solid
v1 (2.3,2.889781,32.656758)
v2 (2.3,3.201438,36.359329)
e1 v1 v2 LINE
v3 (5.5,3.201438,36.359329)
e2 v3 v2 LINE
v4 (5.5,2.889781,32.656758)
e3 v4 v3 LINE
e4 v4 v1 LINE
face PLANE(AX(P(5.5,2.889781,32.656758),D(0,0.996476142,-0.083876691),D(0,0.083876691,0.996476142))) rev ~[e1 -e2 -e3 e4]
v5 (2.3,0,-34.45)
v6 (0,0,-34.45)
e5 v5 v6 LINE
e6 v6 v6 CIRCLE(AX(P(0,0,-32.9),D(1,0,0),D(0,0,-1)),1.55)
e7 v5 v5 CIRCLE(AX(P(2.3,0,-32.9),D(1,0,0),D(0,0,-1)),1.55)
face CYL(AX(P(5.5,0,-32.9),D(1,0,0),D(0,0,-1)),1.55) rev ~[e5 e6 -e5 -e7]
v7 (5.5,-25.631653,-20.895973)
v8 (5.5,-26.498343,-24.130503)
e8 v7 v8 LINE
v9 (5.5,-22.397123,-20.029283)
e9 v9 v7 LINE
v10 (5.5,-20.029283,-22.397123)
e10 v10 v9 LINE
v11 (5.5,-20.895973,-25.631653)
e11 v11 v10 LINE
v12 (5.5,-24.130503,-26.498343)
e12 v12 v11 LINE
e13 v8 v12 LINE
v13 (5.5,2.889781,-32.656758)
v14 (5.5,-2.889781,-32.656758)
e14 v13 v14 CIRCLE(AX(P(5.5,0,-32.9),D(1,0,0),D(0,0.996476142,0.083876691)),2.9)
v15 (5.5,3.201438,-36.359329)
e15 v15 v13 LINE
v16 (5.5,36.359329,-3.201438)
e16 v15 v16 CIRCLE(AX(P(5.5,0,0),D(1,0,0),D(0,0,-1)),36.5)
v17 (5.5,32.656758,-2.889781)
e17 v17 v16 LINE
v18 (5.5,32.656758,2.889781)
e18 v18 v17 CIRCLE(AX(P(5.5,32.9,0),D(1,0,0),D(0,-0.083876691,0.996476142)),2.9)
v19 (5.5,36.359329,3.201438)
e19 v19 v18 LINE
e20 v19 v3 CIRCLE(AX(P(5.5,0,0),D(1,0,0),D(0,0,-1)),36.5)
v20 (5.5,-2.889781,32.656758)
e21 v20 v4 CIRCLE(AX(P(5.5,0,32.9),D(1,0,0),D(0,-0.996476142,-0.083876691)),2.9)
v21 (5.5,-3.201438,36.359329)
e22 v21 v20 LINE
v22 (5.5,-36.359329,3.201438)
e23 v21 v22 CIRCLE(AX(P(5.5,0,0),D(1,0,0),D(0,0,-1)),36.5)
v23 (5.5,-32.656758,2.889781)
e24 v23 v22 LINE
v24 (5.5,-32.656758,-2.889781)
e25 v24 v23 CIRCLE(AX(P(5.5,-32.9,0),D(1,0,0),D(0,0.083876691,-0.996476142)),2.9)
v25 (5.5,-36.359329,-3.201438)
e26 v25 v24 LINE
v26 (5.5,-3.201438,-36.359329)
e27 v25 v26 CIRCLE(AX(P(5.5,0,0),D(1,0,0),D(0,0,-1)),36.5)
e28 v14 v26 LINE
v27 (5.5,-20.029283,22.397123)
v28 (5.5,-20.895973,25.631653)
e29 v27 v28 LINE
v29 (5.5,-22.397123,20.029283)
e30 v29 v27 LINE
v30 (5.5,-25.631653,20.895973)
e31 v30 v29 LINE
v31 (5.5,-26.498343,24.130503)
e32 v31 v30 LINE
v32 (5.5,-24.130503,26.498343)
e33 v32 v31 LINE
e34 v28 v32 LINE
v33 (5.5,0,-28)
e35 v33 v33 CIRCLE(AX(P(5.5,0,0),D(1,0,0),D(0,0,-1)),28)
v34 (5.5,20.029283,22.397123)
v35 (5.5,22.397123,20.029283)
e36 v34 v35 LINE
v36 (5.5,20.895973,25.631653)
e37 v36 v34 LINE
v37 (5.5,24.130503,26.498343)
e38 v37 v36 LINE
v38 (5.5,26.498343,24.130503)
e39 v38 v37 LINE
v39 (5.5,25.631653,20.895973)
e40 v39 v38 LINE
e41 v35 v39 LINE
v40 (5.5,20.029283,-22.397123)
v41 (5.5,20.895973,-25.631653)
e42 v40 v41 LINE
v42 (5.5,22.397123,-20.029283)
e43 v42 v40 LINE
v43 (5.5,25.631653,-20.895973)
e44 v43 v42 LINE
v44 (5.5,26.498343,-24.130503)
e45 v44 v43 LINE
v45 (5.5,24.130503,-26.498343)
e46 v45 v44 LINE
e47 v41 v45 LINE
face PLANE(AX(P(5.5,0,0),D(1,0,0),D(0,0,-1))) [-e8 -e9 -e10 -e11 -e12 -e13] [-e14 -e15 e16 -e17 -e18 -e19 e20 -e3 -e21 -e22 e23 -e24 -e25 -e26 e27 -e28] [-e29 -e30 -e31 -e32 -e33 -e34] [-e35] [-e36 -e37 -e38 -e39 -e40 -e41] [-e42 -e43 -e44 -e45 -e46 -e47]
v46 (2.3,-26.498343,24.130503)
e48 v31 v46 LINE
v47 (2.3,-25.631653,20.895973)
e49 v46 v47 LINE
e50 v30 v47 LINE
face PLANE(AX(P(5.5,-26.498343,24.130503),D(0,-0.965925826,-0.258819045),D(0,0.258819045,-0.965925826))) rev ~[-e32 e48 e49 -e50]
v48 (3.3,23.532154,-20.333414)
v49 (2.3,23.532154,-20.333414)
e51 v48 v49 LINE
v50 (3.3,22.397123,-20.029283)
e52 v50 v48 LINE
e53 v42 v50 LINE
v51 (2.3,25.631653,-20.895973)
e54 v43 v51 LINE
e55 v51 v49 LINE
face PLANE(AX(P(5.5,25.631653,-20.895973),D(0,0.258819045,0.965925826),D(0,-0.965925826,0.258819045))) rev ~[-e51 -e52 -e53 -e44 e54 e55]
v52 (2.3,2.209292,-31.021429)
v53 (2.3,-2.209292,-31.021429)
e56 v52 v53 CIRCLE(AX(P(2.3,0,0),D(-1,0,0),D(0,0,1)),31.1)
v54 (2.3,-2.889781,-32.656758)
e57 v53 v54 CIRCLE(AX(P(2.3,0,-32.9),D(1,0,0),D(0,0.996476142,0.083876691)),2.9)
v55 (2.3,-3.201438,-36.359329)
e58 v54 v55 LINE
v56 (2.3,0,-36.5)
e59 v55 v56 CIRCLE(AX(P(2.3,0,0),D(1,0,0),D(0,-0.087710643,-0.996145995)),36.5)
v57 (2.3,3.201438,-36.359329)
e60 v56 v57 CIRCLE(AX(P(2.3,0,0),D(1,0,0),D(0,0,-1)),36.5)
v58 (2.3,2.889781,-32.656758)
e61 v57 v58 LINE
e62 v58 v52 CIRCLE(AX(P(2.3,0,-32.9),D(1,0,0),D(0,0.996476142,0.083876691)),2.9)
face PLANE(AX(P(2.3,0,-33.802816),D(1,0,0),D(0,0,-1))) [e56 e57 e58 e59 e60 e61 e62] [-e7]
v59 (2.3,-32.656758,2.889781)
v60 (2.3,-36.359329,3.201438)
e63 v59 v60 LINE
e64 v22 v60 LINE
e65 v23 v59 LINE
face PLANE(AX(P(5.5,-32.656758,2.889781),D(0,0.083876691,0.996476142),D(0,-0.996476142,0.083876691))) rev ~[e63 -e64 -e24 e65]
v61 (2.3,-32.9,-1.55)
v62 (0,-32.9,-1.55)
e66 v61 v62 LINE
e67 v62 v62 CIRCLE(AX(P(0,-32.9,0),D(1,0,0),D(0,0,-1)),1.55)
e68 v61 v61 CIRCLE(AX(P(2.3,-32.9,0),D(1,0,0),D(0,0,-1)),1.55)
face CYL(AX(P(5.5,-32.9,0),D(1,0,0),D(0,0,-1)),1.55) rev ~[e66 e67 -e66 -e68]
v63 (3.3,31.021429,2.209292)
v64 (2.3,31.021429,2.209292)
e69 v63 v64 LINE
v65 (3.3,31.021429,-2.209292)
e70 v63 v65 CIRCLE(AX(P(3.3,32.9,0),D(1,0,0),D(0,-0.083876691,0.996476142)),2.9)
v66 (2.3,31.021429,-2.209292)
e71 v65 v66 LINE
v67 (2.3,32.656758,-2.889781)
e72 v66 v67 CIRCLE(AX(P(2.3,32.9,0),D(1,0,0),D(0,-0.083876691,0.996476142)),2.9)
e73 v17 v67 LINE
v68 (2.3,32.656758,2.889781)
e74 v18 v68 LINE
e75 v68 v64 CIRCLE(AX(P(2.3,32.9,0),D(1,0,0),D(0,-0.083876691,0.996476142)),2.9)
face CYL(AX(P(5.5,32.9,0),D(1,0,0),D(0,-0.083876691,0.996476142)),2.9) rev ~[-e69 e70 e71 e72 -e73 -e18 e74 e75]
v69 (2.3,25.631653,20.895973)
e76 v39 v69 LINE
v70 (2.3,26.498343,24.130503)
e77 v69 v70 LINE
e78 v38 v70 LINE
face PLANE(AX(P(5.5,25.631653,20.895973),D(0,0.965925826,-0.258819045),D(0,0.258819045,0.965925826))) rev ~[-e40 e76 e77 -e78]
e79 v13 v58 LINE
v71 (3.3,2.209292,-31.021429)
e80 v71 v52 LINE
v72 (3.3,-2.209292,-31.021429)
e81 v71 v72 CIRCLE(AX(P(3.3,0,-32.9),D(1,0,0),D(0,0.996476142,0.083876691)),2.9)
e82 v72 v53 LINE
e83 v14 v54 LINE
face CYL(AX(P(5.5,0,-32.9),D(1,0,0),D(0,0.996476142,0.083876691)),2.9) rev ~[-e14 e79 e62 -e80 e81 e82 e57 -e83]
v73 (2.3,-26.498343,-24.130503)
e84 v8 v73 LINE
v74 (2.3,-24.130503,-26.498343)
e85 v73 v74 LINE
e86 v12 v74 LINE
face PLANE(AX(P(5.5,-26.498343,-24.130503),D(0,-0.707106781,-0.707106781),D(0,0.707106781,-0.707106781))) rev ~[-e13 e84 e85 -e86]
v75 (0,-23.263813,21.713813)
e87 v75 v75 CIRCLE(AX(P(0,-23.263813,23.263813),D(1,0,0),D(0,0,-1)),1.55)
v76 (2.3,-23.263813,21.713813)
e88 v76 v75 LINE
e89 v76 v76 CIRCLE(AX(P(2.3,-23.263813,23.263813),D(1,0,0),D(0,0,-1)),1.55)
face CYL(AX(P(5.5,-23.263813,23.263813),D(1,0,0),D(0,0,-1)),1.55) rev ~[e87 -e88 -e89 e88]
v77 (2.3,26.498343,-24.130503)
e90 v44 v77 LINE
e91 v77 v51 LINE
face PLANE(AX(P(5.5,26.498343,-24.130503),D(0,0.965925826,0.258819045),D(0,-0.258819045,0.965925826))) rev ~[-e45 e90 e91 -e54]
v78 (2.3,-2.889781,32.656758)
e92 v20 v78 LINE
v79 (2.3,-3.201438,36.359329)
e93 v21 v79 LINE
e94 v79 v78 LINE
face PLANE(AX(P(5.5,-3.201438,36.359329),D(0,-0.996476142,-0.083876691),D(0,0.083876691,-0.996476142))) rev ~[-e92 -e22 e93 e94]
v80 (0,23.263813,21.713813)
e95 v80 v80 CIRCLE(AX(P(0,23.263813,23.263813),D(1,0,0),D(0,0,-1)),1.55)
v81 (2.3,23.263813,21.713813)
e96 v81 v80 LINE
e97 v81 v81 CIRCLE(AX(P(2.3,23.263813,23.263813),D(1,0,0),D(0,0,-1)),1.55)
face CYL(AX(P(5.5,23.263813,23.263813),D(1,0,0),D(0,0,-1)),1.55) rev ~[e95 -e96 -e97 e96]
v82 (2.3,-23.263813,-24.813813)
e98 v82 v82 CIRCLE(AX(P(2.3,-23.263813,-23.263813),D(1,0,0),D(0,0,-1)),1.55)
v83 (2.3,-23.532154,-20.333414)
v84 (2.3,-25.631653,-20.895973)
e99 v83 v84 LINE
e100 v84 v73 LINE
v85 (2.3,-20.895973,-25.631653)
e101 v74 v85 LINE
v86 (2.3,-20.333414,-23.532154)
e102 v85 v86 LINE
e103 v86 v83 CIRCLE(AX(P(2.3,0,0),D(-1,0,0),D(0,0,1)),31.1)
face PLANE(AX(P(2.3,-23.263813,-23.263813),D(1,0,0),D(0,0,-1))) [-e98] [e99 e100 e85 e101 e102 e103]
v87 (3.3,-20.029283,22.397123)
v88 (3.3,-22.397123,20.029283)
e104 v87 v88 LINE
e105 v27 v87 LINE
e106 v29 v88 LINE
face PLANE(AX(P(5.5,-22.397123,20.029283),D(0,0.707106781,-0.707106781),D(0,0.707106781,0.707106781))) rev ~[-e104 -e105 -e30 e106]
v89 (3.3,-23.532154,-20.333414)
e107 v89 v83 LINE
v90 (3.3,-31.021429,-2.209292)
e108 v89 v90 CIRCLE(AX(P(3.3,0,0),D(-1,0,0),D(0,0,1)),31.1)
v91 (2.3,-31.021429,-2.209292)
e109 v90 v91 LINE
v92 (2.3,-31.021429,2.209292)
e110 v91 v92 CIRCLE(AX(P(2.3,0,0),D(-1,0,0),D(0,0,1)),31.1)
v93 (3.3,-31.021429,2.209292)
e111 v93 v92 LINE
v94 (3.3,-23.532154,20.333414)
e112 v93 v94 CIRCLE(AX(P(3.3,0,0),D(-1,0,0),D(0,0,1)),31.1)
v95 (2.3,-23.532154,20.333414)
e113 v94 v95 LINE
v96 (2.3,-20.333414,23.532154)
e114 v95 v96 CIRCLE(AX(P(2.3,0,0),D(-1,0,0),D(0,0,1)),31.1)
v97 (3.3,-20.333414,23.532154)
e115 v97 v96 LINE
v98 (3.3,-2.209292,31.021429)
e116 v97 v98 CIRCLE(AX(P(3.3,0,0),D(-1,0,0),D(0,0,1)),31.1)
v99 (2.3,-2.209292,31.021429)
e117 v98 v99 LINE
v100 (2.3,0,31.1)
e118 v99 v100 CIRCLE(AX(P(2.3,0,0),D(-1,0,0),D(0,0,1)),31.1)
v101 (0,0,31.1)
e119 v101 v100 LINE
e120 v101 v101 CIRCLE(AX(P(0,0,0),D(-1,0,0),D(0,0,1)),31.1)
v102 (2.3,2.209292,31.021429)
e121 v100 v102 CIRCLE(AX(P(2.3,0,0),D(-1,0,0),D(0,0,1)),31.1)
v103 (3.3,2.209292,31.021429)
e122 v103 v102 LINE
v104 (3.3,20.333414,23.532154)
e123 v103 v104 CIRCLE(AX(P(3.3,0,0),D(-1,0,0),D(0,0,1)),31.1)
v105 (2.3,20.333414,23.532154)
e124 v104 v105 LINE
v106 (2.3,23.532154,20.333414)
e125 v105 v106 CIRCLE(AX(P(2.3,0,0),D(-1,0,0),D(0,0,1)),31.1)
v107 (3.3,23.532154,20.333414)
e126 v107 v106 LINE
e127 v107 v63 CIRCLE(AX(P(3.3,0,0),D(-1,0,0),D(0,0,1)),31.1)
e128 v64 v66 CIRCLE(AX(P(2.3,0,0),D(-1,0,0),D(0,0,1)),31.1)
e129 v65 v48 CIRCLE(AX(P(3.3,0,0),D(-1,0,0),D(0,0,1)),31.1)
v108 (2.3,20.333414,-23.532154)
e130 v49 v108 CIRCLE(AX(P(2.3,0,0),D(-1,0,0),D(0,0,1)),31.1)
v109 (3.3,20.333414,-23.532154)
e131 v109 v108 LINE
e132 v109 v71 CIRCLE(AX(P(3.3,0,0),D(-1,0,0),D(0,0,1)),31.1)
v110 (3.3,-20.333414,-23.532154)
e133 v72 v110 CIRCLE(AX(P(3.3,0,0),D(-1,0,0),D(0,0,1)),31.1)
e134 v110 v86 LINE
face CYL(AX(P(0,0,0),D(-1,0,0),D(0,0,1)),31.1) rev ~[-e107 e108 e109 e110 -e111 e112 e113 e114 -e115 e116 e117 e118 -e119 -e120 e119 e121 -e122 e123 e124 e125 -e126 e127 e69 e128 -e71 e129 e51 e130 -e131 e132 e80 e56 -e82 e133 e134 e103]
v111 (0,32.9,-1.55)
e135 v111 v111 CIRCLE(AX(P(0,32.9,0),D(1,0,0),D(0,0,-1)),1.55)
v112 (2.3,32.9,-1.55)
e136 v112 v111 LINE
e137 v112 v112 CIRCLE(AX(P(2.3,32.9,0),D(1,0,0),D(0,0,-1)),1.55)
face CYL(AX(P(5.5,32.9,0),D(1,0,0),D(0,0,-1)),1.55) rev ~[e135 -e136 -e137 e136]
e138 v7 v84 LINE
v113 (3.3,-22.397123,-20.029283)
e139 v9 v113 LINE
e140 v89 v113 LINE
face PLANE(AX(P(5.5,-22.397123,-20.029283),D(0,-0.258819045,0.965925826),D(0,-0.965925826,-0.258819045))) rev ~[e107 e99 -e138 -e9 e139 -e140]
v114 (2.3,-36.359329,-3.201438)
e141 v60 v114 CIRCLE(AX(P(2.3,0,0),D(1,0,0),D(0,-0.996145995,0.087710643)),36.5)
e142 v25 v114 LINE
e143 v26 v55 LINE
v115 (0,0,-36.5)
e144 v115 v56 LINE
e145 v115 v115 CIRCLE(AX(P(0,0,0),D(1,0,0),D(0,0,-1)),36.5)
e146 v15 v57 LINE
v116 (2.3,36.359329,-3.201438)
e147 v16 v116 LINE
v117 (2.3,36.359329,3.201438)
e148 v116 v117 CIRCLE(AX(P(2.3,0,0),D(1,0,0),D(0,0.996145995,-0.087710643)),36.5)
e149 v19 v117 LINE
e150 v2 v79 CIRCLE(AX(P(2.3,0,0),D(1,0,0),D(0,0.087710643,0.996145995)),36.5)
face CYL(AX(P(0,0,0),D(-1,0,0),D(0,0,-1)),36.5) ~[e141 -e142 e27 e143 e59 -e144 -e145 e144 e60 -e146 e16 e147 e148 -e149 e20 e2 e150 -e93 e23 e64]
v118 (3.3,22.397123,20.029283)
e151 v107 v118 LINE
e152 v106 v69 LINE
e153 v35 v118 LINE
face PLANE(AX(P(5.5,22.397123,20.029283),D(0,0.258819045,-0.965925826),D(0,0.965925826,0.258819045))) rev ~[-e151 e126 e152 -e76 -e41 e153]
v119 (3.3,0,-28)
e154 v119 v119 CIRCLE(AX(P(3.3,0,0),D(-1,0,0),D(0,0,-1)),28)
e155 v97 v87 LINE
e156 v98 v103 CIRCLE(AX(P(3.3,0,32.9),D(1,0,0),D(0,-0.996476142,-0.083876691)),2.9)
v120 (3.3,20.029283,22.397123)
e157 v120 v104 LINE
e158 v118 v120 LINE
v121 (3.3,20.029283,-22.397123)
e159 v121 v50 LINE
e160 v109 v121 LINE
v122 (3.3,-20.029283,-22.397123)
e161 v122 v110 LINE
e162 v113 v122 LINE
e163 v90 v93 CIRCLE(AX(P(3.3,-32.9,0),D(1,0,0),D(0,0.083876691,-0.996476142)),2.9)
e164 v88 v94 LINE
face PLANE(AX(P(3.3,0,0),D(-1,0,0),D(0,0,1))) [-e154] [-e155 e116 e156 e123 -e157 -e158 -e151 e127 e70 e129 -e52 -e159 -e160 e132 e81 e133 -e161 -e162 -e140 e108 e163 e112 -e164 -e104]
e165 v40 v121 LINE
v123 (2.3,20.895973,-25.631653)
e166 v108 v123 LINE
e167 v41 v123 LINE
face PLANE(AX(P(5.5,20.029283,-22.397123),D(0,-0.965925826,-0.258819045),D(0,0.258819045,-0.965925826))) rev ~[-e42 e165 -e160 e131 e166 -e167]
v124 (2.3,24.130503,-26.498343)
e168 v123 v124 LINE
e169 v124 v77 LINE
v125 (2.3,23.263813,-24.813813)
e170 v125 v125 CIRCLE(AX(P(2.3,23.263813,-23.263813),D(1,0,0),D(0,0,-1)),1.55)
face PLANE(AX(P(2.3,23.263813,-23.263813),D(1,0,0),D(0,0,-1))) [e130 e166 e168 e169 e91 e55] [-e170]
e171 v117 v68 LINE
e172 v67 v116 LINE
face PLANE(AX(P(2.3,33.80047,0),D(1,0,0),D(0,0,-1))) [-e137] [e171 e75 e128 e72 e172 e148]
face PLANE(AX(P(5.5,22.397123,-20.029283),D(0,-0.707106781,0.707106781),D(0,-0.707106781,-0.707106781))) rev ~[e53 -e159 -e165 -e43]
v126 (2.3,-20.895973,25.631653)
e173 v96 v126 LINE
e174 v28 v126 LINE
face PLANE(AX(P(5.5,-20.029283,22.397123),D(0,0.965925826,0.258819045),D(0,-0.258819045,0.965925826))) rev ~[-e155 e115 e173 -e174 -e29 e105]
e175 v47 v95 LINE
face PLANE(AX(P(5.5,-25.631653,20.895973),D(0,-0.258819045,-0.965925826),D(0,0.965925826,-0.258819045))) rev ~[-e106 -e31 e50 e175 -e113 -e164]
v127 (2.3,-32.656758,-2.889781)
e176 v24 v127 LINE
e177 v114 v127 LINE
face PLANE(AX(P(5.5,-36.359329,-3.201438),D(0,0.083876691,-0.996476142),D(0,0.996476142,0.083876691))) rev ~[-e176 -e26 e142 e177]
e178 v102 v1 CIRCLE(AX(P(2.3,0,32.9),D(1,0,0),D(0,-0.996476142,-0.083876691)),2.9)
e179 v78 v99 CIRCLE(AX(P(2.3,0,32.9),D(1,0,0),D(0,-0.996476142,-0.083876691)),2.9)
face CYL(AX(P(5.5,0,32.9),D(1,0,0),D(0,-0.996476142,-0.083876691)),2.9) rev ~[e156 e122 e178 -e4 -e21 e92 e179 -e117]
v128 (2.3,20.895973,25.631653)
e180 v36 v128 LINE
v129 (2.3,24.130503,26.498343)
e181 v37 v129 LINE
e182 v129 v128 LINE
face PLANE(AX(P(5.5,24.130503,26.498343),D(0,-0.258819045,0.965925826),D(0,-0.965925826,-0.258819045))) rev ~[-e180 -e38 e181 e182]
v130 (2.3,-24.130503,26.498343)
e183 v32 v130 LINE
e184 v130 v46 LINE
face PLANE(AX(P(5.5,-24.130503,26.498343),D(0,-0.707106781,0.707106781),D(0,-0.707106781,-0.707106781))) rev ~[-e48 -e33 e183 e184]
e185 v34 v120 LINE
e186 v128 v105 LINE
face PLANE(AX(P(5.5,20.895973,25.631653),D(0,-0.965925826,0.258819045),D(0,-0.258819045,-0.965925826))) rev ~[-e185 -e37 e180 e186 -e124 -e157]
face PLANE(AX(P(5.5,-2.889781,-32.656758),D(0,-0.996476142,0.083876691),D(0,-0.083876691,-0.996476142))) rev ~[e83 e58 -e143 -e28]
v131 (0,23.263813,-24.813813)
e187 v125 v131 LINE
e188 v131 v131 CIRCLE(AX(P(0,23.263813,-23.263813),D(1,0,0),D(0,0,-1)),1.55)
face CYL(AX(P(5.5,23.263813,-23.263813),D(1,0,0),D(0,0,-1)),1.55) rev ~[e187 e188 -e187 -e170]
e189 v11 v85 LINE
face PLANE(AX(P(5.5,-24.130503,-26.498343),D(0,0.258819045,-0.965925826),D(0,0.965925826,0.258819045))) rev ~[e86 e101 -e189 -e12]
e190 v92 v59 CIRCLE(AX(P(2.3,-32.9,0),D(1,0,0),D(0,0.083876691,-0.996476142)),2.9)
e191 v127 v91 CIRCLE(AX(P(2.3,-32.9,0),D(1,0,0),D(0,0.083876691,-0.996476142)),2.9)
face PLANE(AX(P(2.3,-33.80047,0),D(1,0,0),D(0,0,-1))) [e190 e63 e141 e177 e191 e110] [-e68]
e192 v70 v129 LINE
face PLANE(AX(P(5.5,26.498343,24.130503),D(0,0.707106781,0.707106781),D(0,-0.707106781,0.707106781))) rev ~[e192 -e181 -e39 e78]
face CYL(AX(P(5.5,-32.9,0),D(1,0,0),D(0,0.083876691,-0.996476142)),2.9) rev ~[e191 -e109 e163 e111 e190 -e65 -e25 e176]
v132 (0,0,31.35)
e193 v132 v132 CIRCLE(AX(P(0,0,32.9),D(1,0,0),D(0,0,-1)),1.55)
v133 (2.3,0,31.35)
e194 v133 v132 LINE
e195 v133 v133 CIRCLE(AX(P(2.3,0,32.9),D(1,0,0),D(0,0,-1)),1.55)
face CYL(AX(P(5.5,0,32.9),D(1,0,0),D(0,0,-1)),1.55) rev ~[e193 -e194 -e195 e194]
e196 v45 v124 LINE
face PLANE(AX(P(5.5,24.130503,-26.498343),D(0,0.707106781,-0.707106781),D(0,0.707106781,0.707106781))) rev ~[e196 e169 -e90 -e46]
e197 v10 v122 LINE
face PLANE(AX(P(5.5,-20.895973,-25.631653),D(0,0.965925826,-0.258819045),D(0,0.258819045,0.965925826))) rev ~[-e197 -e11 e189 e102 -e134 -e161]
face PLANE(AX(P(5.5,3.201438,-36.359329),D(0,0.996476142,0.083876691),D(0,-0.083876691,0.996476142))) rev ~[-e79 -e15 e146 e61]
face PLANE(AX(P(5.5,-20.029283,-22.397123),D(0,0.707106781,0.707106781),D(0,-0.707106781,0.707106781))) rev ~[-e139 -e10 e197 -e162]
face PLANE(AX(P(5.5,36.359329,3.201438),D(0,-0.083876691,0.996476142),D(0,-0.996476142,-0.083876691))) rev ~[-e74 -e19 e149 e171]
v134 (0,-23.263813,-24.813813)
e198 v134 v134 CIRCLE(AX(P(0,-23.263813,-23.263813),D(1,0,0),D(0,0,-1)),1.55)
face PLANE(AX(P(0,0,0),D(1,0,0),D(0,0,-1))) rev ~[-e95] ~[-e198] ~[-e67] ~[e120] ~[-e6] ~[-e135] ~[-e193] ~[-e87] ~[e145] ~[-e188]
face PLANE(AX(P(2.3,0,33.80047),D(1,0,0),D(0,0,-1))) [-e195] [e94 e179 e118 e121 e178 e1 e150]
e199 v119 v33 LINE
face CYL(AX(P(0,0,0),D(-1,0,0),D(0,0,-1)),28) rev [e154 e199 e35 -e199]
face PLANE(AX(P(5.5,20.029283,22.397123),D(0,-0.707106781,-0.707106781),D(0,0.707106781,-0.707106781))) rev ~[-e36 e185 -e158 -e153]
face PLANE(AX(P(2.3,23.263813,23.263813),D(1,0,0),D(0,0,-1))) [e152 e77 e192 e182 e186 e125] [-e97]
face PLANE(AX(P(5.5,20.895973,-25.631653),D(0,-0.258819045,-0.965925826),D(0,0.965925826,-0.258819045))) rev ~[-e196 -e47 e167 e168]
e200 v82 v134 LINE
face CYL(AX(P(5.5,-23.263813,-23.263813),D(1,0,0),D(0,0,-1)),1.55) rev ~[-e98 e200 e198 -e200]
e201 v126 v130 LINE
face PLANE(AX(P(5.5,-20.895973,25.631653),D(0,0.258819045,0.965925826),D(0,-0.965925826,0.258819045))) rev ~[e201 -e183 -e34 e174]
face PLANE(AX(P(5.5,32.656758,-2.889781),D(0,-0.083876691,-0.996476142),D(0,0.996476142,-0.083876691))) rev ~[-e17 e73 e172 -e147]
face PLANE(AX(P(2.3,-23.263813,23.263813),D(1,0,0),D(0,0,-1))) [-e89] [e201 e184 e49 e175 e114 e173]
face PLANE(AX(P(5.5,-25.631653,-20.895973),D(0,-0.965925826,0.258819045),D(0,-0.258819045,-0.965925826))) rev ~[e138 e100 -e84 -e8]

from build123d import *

# Parameters (mm, degrees)
SKETCH_1_R          = 36.5
SKETCH_1_R_2        = 28
EXTRUDE_1_DEPTH     = 5.5
SKETCH_2_R          = 31.1
CUT_EXTRUDE_1_DEPTH = 3.3
CUT_EXTRUDE_2_REACH = 53.911
SKETCH_3_R          = 1.55
SKETCH_4_R          = 1.55
CUT_EXTRUDE_3_DEPTH = 3.2


with BuildPart() as part:
    # 草图1 → 凸台-拉伸1 (new body)
    with BuildSketch(Plane(origin=(0, 0, 0), x_dir=(0, 0, -1), z_dir=(1, 0, 0))):
        Circle(SKETCH_1_R)
        Circle(SKETCH_1_R_2, mode=Mode.SUBTRACT)
    extrude(amount=EXTRUDE_1_DEPTH)

    # 草图2 → 切除-拉伸1 (cut)
    with BuildSketch(Plane.ZY):
        Circle(SKETCH_2_R)
    extrude(amount=-CUT_EXTRUDE_1_DEPTH, mode=Mode.SUBTRACT)

    # 草图3 → 切除-拉伸2 (cut, up to next)
    with BuildSketch(Plane(origin=(5.5, 0, 0), x_dir=(0, 0, -1), z_dir=(1, 0, 0)), mode=Mode.PRIVATE) as cut_extrude_2_sk1:
        with Locations((32.9, 0)):
            Circle(SKETCH_3_R)
    cut_extrude_2_tool1 = extrude(cut_extrude_2_sk1.sketch, amount=-CUT_EXTRUDE_2_REACH, mode=Mode.PRIVATE) & part.part
    # 草图3 → 切除-拉伸2 (cut, up to next)
    with BuildSketch(Plane(origin=(5.5, 0, 0), x_dir=(0, 0, -1), z_dir=(1, 0, 0)), mode=Mode.PRIVATE) as cut_extrude_2_sk2:
        with Locations((23.263813101, -23.263813101)):
            Circle(SKETCH_3_R)
    cut_extrude_2_tool2 = extrude(cut_extrude_2_sk2.sketch, amount=-CUT_EXTRUDE_2_REACH, mode=Mode.PRIVATE) & part.part
    # 草图3 → 切除-拉伸2 (cut, up to next)
    with BuildSketch(Plane(origin=(5.5, 0, 0), x_dir=(0, 0, -1), z_dir=(1, 0, 0)), mode=Mode.PRIVATE) as cut_extrude_2_sk3:
        with Locations((0, -32.9)):
            Circle(SKETCH_3_R)
    cut_extrude_2_tool3 = extrude(cut_extrude_2_sk3.sketch, amount=-CUT_EXTRUDE_2_REACH, mode=Mode.PRIVATE) & part.part
    # 草图3 → 切除-拉伸2 (cut, up to next)
    with BuildSketch(Plane(origin=(5.5, 0, 0), x_dir=(0, 0, -1), z_dir=(1, 0, 0)), mode=Mode.PRIVATE) as cut_extrude_2_sk4:
        with Locations((-23.263813101, -23.263813101)):
            Circle(SKETCH_3_R)
    cut_extrude_2_tool4 = extrude(cut_extrude_2_sk4.sketch, amount=-CUT_EXTRUDE_2_REACH, mode=Mode.PRIVATE) & part.part
    # 草图3 → 切除-拉伸2 (cut, up to next)
    with BuildSketch(Plane(origin=(5.5, 0, 0), x_dir=(0, 0, -1), z_dir=(1, 0, 0)), mode=Mode.PRIVATE) as cut_extrude_2_sk5:
        with Locations((-32.9, 0)):
            Circle(SKETCH_3_R)
    cut_extrude_2_tool5 = extrude(cut_extrude_2_sk5.sketch, amount=-CUT_EXTRUDE_2_REACH, mode=Mode.PRIVATE) & part.part
    # 草图3 → 切除-拉伸2 (cut, up to next)
    with BuildSketch(Plane(origin=(5.5, 0, 0), x_dir=(0, 0, -1), z_dir=(1, 0, 0)), mode=Mode.PRIVATE) as cut_extrude_2_sk6:
        with Locations((-23.263813101, 23.263813101)):
            Circle(SKETCH_3_R)
    cut_extrude_2_tool6 = extrude(cut_extrude_2_sk6.sketch, amount=-CUT_EXTRUDE_2_REACH, mode=Mode.PRIVATE) & part.part
    # 草图3 → 切除-拉伸2 (cut, up to next)
    with BuildSketch(Plane(origin=(5.5, 0, 0), x_dir=(0, 0, -1), z_dir=(1, 0, 0)), mode=Mode.PRIVATE) as cut_extrude_2_sk7:
        with Locations((0, 32.9)):
            Circle(SKETCH_3_R)
    cut_extrude_2_tool7 = extrude(cut_extrude_2_sk7.sketch, amount=-CUT_EXTRUDE_2_REACH, mode=Mode.PRIVATE) & part.part
    # 草图3 → 切除-拉伸2 (cut, up to next)
    with BuildSketch(Plane(origin=(5.5, 0, 0), x_dir=(0, 0, -1), z_dir=(1, 0, 0)), mode=Mode.PRIVATE) as cut_extrude_2_sk8:
        with Locations((23.263813101, 23.263813101)):
            Circle(SKETCH_3_R)
    cut_extrude_2_tool8 = extrude(cut_extrude_2_sk8.sketch, amount=-CUT_EXTRUDE_2_REACH, mode=Mode.PRIVATE) & part.part
    add(cut_extrude_2_tool1.solids().sort_by_distance((5.5, 0, -32.9))[0], mode=Mode.SUBTRACT)
    add(cut_extrude_2_tool2.solids().sort_by_distance((5.5, -23.263813, -23.263813))[0], mode=Mode.SUBTRACT)
    add(cut_extrude_2_tool3.solids().sort_by_distance((5.5, -32.9, 0))[0], mode=Mode.SUBTRACT)
    add(cut_extrude_2_tool4.solids().sort_by_distance((5.5, -23.263813, 23.263813))[0], mode=Mode.SUBTRACT)
    add(cut_extrude_2_tool5.solids().sort_by_distance((5.5, 0, 32.9))[0], mode=Mode.SUBTRACT)
    add(cut_extrude_2_tool6.solids().sort_by_distance((5.5, 23.263813, 23.263813))[0], mode=Mode.SUBTRACT)
    add(cut_extrude_2_tool7.solids().sort_by_distance((5.5, 32.9, 0))[0], mode=Mode.SUBTRACT)
    add(cut_extrude_2_tool8.solids().sort_by_distance((5.5, 23.263813, -23.263813))[0], mode=Mode.SUBTRACT)

    # 草图4 → 切除-拉伸3 (cut)
    # profile 1 of 8: a face of its own
    with BuildSketch(Plane(origin=(5.5, 0, 0), x_dir=(0, 0, -1), z_dir=(1, 0, 0))):
        with BuildLine():
            Line((-32.656757596, 2.889780811), (-36.359328813, 3.20143847))
            ThreePointArc((-36.359328813, 3.20143847), (-36.5, 0), (-36.359328813, -3.20143847))
            Line((-36.359328813, -3.20143847), (-32.656757596, -2.889780811))
            ThreePointArc((-32.656757596, -2.889780811), (-30, 0), (-32.656757596, 2.889780811))
        make_face()
        with Locations((-32.9, 0)):
            Circle(SKETCH_4_R, mode=Mode.SUBTRACT)
    # profile 2 of 8: a face of its own
    with BuildSketch(Plane(origin=(5.5, 0, 0), x_dir=(0, 0, -1), z_dir=(1, 0, 0))):
        with BuildLine():
            Line((2.889780811, 32.656757596), (3.20143847, 36.359328813))
            ThreePointArc((3.20143847, 36.359328813), (0, 36.5), (-3.20143847, 36.359328813))
            Line((-3.20143847, 36.359328813), (-2.889780811, 32.656757596))
            ThreePointArc((-2.889780811, 32.656757596), (0, 30), (2.889780811, 32.656757596))
        make_face()
        with Locations((0, 32.9)):
            Circle(SKETCH_4_R, mode=Mode.SUBTRACT)
    # profile 3 of 8: a face of its own
    with BuildSketch(Plane(origin=(5.5, 0, 0), x_dir=(0, 0, -1), z_dir=(1, 0, 0))):
        Polygon((26.498342809, 24.130502724), (24.130502724, 26.498342809), (20.895973016, 25.631653186), (20.029283393, 22.397123478), (22.397123478, 20.029283393), (25.631653186, 20.895973016), align=None)
        with Locations((23.263813101, 23.263813101)):
            Circle(SKETCH_4_R, mode=Mode.SUBTRACT)
    # profile 4 of 8: a face of its own
    with BuildSketch(Plane(origin=(5.5, 0, 0), x_dir=(0, 0, -1), z_dir=(1, 0, 0))):
        with BuildLine():
            Line((36.359328813, 3.20143847), (32.656757596, 2.889780811))
            ThreePointArc((32.656757596, 2.889780811), (30, 0), (32.656757596, -2.889780811))
            Line((32.656757596, -2.889780811), (36.359328813, -3.20143847))
            ThreePointArc((36.359328813, -3.20143847), (36.464815245, -1.602263763), (36.5, 0))
            ThreePointArc((36.5, 0), (36.464815245, 1.602263763), (36.359328813, 3.20143847))
        make_face()
        with Locations((32.9, 0)):
            Circle(SKETCH_4_R, mode=Mode.SUBTRACT)
    # profile 5 of 8: a face of its own
    with BuildSketch(Plane(origin=(5.5, 0, 0), x_dir=(0, 0, -1), z_dir=(1, 0, 0))):
        Polygon((24.130502724, -26.498342809), (26.498342809, -24.130502724), (25.631653186, -20.895973016), (22.397123478, -20.029283393), (20.029283393, -22.397123478), (20.895973016, -25.631653186), align=None)
        with Locations((23.263813101, -23.263813101)):
            Circle(SKETCH_4_R, mode=Mode.SUBTRACT)
    # profile 6 of 8: a face of its own
    with BuildSketch(Plane(origin=(5.5, 0, 0), x_dir=(0, 0, -1), z_dir=(1, 0, 0))):
        with BuildLine():
            ThreePointArc((-3.20143847, -36.359328813), (0, -36.5), (3.20143847, -36.359328813))
            Line((3.20143847, -36.359328813), (2.889780811, -32.656757596))
            ThreePointArc((2.889780811, -32.656757596), (0, -30), (-2.889780811, -32.656757596))
            Line((-2.889780811, -32.656757596), (-3.20143847, -36.359328813))
        make_face()
        with Locations((0, -32.9)):
            Circle(SKETCH_4_R, mode=Mode.SUBTRACT)
    # profile 7 of 8: a face of its own
    with BuildSketch(Plane(origin=(5.5, 0, 0), x_dir=(0, 0, -1), z_dir=(1, 0, 0))):
        Polygon((-20.895973016, -25.631653186), (-20.029283393, -22.397123478), (-22.397123478, -20.029283393), (-25.631653186, -20.895973016), (-26.498342809, -24.130502724), (-24.130502724, -26.498342809), align=None)
    # profile 8 of 8: a face of its own
    with BuildSketch(Plane(origin=(5.5, 0, 0), x_dir=(0, 0, -1), z_dir=(1, 0, 0))):
        Polygon((-20.029283393, 22.397123478), (-20.895973016, 25.631653186), (-24.130502724, 26.498342809), (-26.498342809, 24.130502724), (-25.631653186, 20.895973016), (-22.397123478, 20.029283393), align=None)
    extrude(amount=-CUT_EXTRUDE_3_DEPTH, mode=Mode.SUBTRACT)


solid = part.part
